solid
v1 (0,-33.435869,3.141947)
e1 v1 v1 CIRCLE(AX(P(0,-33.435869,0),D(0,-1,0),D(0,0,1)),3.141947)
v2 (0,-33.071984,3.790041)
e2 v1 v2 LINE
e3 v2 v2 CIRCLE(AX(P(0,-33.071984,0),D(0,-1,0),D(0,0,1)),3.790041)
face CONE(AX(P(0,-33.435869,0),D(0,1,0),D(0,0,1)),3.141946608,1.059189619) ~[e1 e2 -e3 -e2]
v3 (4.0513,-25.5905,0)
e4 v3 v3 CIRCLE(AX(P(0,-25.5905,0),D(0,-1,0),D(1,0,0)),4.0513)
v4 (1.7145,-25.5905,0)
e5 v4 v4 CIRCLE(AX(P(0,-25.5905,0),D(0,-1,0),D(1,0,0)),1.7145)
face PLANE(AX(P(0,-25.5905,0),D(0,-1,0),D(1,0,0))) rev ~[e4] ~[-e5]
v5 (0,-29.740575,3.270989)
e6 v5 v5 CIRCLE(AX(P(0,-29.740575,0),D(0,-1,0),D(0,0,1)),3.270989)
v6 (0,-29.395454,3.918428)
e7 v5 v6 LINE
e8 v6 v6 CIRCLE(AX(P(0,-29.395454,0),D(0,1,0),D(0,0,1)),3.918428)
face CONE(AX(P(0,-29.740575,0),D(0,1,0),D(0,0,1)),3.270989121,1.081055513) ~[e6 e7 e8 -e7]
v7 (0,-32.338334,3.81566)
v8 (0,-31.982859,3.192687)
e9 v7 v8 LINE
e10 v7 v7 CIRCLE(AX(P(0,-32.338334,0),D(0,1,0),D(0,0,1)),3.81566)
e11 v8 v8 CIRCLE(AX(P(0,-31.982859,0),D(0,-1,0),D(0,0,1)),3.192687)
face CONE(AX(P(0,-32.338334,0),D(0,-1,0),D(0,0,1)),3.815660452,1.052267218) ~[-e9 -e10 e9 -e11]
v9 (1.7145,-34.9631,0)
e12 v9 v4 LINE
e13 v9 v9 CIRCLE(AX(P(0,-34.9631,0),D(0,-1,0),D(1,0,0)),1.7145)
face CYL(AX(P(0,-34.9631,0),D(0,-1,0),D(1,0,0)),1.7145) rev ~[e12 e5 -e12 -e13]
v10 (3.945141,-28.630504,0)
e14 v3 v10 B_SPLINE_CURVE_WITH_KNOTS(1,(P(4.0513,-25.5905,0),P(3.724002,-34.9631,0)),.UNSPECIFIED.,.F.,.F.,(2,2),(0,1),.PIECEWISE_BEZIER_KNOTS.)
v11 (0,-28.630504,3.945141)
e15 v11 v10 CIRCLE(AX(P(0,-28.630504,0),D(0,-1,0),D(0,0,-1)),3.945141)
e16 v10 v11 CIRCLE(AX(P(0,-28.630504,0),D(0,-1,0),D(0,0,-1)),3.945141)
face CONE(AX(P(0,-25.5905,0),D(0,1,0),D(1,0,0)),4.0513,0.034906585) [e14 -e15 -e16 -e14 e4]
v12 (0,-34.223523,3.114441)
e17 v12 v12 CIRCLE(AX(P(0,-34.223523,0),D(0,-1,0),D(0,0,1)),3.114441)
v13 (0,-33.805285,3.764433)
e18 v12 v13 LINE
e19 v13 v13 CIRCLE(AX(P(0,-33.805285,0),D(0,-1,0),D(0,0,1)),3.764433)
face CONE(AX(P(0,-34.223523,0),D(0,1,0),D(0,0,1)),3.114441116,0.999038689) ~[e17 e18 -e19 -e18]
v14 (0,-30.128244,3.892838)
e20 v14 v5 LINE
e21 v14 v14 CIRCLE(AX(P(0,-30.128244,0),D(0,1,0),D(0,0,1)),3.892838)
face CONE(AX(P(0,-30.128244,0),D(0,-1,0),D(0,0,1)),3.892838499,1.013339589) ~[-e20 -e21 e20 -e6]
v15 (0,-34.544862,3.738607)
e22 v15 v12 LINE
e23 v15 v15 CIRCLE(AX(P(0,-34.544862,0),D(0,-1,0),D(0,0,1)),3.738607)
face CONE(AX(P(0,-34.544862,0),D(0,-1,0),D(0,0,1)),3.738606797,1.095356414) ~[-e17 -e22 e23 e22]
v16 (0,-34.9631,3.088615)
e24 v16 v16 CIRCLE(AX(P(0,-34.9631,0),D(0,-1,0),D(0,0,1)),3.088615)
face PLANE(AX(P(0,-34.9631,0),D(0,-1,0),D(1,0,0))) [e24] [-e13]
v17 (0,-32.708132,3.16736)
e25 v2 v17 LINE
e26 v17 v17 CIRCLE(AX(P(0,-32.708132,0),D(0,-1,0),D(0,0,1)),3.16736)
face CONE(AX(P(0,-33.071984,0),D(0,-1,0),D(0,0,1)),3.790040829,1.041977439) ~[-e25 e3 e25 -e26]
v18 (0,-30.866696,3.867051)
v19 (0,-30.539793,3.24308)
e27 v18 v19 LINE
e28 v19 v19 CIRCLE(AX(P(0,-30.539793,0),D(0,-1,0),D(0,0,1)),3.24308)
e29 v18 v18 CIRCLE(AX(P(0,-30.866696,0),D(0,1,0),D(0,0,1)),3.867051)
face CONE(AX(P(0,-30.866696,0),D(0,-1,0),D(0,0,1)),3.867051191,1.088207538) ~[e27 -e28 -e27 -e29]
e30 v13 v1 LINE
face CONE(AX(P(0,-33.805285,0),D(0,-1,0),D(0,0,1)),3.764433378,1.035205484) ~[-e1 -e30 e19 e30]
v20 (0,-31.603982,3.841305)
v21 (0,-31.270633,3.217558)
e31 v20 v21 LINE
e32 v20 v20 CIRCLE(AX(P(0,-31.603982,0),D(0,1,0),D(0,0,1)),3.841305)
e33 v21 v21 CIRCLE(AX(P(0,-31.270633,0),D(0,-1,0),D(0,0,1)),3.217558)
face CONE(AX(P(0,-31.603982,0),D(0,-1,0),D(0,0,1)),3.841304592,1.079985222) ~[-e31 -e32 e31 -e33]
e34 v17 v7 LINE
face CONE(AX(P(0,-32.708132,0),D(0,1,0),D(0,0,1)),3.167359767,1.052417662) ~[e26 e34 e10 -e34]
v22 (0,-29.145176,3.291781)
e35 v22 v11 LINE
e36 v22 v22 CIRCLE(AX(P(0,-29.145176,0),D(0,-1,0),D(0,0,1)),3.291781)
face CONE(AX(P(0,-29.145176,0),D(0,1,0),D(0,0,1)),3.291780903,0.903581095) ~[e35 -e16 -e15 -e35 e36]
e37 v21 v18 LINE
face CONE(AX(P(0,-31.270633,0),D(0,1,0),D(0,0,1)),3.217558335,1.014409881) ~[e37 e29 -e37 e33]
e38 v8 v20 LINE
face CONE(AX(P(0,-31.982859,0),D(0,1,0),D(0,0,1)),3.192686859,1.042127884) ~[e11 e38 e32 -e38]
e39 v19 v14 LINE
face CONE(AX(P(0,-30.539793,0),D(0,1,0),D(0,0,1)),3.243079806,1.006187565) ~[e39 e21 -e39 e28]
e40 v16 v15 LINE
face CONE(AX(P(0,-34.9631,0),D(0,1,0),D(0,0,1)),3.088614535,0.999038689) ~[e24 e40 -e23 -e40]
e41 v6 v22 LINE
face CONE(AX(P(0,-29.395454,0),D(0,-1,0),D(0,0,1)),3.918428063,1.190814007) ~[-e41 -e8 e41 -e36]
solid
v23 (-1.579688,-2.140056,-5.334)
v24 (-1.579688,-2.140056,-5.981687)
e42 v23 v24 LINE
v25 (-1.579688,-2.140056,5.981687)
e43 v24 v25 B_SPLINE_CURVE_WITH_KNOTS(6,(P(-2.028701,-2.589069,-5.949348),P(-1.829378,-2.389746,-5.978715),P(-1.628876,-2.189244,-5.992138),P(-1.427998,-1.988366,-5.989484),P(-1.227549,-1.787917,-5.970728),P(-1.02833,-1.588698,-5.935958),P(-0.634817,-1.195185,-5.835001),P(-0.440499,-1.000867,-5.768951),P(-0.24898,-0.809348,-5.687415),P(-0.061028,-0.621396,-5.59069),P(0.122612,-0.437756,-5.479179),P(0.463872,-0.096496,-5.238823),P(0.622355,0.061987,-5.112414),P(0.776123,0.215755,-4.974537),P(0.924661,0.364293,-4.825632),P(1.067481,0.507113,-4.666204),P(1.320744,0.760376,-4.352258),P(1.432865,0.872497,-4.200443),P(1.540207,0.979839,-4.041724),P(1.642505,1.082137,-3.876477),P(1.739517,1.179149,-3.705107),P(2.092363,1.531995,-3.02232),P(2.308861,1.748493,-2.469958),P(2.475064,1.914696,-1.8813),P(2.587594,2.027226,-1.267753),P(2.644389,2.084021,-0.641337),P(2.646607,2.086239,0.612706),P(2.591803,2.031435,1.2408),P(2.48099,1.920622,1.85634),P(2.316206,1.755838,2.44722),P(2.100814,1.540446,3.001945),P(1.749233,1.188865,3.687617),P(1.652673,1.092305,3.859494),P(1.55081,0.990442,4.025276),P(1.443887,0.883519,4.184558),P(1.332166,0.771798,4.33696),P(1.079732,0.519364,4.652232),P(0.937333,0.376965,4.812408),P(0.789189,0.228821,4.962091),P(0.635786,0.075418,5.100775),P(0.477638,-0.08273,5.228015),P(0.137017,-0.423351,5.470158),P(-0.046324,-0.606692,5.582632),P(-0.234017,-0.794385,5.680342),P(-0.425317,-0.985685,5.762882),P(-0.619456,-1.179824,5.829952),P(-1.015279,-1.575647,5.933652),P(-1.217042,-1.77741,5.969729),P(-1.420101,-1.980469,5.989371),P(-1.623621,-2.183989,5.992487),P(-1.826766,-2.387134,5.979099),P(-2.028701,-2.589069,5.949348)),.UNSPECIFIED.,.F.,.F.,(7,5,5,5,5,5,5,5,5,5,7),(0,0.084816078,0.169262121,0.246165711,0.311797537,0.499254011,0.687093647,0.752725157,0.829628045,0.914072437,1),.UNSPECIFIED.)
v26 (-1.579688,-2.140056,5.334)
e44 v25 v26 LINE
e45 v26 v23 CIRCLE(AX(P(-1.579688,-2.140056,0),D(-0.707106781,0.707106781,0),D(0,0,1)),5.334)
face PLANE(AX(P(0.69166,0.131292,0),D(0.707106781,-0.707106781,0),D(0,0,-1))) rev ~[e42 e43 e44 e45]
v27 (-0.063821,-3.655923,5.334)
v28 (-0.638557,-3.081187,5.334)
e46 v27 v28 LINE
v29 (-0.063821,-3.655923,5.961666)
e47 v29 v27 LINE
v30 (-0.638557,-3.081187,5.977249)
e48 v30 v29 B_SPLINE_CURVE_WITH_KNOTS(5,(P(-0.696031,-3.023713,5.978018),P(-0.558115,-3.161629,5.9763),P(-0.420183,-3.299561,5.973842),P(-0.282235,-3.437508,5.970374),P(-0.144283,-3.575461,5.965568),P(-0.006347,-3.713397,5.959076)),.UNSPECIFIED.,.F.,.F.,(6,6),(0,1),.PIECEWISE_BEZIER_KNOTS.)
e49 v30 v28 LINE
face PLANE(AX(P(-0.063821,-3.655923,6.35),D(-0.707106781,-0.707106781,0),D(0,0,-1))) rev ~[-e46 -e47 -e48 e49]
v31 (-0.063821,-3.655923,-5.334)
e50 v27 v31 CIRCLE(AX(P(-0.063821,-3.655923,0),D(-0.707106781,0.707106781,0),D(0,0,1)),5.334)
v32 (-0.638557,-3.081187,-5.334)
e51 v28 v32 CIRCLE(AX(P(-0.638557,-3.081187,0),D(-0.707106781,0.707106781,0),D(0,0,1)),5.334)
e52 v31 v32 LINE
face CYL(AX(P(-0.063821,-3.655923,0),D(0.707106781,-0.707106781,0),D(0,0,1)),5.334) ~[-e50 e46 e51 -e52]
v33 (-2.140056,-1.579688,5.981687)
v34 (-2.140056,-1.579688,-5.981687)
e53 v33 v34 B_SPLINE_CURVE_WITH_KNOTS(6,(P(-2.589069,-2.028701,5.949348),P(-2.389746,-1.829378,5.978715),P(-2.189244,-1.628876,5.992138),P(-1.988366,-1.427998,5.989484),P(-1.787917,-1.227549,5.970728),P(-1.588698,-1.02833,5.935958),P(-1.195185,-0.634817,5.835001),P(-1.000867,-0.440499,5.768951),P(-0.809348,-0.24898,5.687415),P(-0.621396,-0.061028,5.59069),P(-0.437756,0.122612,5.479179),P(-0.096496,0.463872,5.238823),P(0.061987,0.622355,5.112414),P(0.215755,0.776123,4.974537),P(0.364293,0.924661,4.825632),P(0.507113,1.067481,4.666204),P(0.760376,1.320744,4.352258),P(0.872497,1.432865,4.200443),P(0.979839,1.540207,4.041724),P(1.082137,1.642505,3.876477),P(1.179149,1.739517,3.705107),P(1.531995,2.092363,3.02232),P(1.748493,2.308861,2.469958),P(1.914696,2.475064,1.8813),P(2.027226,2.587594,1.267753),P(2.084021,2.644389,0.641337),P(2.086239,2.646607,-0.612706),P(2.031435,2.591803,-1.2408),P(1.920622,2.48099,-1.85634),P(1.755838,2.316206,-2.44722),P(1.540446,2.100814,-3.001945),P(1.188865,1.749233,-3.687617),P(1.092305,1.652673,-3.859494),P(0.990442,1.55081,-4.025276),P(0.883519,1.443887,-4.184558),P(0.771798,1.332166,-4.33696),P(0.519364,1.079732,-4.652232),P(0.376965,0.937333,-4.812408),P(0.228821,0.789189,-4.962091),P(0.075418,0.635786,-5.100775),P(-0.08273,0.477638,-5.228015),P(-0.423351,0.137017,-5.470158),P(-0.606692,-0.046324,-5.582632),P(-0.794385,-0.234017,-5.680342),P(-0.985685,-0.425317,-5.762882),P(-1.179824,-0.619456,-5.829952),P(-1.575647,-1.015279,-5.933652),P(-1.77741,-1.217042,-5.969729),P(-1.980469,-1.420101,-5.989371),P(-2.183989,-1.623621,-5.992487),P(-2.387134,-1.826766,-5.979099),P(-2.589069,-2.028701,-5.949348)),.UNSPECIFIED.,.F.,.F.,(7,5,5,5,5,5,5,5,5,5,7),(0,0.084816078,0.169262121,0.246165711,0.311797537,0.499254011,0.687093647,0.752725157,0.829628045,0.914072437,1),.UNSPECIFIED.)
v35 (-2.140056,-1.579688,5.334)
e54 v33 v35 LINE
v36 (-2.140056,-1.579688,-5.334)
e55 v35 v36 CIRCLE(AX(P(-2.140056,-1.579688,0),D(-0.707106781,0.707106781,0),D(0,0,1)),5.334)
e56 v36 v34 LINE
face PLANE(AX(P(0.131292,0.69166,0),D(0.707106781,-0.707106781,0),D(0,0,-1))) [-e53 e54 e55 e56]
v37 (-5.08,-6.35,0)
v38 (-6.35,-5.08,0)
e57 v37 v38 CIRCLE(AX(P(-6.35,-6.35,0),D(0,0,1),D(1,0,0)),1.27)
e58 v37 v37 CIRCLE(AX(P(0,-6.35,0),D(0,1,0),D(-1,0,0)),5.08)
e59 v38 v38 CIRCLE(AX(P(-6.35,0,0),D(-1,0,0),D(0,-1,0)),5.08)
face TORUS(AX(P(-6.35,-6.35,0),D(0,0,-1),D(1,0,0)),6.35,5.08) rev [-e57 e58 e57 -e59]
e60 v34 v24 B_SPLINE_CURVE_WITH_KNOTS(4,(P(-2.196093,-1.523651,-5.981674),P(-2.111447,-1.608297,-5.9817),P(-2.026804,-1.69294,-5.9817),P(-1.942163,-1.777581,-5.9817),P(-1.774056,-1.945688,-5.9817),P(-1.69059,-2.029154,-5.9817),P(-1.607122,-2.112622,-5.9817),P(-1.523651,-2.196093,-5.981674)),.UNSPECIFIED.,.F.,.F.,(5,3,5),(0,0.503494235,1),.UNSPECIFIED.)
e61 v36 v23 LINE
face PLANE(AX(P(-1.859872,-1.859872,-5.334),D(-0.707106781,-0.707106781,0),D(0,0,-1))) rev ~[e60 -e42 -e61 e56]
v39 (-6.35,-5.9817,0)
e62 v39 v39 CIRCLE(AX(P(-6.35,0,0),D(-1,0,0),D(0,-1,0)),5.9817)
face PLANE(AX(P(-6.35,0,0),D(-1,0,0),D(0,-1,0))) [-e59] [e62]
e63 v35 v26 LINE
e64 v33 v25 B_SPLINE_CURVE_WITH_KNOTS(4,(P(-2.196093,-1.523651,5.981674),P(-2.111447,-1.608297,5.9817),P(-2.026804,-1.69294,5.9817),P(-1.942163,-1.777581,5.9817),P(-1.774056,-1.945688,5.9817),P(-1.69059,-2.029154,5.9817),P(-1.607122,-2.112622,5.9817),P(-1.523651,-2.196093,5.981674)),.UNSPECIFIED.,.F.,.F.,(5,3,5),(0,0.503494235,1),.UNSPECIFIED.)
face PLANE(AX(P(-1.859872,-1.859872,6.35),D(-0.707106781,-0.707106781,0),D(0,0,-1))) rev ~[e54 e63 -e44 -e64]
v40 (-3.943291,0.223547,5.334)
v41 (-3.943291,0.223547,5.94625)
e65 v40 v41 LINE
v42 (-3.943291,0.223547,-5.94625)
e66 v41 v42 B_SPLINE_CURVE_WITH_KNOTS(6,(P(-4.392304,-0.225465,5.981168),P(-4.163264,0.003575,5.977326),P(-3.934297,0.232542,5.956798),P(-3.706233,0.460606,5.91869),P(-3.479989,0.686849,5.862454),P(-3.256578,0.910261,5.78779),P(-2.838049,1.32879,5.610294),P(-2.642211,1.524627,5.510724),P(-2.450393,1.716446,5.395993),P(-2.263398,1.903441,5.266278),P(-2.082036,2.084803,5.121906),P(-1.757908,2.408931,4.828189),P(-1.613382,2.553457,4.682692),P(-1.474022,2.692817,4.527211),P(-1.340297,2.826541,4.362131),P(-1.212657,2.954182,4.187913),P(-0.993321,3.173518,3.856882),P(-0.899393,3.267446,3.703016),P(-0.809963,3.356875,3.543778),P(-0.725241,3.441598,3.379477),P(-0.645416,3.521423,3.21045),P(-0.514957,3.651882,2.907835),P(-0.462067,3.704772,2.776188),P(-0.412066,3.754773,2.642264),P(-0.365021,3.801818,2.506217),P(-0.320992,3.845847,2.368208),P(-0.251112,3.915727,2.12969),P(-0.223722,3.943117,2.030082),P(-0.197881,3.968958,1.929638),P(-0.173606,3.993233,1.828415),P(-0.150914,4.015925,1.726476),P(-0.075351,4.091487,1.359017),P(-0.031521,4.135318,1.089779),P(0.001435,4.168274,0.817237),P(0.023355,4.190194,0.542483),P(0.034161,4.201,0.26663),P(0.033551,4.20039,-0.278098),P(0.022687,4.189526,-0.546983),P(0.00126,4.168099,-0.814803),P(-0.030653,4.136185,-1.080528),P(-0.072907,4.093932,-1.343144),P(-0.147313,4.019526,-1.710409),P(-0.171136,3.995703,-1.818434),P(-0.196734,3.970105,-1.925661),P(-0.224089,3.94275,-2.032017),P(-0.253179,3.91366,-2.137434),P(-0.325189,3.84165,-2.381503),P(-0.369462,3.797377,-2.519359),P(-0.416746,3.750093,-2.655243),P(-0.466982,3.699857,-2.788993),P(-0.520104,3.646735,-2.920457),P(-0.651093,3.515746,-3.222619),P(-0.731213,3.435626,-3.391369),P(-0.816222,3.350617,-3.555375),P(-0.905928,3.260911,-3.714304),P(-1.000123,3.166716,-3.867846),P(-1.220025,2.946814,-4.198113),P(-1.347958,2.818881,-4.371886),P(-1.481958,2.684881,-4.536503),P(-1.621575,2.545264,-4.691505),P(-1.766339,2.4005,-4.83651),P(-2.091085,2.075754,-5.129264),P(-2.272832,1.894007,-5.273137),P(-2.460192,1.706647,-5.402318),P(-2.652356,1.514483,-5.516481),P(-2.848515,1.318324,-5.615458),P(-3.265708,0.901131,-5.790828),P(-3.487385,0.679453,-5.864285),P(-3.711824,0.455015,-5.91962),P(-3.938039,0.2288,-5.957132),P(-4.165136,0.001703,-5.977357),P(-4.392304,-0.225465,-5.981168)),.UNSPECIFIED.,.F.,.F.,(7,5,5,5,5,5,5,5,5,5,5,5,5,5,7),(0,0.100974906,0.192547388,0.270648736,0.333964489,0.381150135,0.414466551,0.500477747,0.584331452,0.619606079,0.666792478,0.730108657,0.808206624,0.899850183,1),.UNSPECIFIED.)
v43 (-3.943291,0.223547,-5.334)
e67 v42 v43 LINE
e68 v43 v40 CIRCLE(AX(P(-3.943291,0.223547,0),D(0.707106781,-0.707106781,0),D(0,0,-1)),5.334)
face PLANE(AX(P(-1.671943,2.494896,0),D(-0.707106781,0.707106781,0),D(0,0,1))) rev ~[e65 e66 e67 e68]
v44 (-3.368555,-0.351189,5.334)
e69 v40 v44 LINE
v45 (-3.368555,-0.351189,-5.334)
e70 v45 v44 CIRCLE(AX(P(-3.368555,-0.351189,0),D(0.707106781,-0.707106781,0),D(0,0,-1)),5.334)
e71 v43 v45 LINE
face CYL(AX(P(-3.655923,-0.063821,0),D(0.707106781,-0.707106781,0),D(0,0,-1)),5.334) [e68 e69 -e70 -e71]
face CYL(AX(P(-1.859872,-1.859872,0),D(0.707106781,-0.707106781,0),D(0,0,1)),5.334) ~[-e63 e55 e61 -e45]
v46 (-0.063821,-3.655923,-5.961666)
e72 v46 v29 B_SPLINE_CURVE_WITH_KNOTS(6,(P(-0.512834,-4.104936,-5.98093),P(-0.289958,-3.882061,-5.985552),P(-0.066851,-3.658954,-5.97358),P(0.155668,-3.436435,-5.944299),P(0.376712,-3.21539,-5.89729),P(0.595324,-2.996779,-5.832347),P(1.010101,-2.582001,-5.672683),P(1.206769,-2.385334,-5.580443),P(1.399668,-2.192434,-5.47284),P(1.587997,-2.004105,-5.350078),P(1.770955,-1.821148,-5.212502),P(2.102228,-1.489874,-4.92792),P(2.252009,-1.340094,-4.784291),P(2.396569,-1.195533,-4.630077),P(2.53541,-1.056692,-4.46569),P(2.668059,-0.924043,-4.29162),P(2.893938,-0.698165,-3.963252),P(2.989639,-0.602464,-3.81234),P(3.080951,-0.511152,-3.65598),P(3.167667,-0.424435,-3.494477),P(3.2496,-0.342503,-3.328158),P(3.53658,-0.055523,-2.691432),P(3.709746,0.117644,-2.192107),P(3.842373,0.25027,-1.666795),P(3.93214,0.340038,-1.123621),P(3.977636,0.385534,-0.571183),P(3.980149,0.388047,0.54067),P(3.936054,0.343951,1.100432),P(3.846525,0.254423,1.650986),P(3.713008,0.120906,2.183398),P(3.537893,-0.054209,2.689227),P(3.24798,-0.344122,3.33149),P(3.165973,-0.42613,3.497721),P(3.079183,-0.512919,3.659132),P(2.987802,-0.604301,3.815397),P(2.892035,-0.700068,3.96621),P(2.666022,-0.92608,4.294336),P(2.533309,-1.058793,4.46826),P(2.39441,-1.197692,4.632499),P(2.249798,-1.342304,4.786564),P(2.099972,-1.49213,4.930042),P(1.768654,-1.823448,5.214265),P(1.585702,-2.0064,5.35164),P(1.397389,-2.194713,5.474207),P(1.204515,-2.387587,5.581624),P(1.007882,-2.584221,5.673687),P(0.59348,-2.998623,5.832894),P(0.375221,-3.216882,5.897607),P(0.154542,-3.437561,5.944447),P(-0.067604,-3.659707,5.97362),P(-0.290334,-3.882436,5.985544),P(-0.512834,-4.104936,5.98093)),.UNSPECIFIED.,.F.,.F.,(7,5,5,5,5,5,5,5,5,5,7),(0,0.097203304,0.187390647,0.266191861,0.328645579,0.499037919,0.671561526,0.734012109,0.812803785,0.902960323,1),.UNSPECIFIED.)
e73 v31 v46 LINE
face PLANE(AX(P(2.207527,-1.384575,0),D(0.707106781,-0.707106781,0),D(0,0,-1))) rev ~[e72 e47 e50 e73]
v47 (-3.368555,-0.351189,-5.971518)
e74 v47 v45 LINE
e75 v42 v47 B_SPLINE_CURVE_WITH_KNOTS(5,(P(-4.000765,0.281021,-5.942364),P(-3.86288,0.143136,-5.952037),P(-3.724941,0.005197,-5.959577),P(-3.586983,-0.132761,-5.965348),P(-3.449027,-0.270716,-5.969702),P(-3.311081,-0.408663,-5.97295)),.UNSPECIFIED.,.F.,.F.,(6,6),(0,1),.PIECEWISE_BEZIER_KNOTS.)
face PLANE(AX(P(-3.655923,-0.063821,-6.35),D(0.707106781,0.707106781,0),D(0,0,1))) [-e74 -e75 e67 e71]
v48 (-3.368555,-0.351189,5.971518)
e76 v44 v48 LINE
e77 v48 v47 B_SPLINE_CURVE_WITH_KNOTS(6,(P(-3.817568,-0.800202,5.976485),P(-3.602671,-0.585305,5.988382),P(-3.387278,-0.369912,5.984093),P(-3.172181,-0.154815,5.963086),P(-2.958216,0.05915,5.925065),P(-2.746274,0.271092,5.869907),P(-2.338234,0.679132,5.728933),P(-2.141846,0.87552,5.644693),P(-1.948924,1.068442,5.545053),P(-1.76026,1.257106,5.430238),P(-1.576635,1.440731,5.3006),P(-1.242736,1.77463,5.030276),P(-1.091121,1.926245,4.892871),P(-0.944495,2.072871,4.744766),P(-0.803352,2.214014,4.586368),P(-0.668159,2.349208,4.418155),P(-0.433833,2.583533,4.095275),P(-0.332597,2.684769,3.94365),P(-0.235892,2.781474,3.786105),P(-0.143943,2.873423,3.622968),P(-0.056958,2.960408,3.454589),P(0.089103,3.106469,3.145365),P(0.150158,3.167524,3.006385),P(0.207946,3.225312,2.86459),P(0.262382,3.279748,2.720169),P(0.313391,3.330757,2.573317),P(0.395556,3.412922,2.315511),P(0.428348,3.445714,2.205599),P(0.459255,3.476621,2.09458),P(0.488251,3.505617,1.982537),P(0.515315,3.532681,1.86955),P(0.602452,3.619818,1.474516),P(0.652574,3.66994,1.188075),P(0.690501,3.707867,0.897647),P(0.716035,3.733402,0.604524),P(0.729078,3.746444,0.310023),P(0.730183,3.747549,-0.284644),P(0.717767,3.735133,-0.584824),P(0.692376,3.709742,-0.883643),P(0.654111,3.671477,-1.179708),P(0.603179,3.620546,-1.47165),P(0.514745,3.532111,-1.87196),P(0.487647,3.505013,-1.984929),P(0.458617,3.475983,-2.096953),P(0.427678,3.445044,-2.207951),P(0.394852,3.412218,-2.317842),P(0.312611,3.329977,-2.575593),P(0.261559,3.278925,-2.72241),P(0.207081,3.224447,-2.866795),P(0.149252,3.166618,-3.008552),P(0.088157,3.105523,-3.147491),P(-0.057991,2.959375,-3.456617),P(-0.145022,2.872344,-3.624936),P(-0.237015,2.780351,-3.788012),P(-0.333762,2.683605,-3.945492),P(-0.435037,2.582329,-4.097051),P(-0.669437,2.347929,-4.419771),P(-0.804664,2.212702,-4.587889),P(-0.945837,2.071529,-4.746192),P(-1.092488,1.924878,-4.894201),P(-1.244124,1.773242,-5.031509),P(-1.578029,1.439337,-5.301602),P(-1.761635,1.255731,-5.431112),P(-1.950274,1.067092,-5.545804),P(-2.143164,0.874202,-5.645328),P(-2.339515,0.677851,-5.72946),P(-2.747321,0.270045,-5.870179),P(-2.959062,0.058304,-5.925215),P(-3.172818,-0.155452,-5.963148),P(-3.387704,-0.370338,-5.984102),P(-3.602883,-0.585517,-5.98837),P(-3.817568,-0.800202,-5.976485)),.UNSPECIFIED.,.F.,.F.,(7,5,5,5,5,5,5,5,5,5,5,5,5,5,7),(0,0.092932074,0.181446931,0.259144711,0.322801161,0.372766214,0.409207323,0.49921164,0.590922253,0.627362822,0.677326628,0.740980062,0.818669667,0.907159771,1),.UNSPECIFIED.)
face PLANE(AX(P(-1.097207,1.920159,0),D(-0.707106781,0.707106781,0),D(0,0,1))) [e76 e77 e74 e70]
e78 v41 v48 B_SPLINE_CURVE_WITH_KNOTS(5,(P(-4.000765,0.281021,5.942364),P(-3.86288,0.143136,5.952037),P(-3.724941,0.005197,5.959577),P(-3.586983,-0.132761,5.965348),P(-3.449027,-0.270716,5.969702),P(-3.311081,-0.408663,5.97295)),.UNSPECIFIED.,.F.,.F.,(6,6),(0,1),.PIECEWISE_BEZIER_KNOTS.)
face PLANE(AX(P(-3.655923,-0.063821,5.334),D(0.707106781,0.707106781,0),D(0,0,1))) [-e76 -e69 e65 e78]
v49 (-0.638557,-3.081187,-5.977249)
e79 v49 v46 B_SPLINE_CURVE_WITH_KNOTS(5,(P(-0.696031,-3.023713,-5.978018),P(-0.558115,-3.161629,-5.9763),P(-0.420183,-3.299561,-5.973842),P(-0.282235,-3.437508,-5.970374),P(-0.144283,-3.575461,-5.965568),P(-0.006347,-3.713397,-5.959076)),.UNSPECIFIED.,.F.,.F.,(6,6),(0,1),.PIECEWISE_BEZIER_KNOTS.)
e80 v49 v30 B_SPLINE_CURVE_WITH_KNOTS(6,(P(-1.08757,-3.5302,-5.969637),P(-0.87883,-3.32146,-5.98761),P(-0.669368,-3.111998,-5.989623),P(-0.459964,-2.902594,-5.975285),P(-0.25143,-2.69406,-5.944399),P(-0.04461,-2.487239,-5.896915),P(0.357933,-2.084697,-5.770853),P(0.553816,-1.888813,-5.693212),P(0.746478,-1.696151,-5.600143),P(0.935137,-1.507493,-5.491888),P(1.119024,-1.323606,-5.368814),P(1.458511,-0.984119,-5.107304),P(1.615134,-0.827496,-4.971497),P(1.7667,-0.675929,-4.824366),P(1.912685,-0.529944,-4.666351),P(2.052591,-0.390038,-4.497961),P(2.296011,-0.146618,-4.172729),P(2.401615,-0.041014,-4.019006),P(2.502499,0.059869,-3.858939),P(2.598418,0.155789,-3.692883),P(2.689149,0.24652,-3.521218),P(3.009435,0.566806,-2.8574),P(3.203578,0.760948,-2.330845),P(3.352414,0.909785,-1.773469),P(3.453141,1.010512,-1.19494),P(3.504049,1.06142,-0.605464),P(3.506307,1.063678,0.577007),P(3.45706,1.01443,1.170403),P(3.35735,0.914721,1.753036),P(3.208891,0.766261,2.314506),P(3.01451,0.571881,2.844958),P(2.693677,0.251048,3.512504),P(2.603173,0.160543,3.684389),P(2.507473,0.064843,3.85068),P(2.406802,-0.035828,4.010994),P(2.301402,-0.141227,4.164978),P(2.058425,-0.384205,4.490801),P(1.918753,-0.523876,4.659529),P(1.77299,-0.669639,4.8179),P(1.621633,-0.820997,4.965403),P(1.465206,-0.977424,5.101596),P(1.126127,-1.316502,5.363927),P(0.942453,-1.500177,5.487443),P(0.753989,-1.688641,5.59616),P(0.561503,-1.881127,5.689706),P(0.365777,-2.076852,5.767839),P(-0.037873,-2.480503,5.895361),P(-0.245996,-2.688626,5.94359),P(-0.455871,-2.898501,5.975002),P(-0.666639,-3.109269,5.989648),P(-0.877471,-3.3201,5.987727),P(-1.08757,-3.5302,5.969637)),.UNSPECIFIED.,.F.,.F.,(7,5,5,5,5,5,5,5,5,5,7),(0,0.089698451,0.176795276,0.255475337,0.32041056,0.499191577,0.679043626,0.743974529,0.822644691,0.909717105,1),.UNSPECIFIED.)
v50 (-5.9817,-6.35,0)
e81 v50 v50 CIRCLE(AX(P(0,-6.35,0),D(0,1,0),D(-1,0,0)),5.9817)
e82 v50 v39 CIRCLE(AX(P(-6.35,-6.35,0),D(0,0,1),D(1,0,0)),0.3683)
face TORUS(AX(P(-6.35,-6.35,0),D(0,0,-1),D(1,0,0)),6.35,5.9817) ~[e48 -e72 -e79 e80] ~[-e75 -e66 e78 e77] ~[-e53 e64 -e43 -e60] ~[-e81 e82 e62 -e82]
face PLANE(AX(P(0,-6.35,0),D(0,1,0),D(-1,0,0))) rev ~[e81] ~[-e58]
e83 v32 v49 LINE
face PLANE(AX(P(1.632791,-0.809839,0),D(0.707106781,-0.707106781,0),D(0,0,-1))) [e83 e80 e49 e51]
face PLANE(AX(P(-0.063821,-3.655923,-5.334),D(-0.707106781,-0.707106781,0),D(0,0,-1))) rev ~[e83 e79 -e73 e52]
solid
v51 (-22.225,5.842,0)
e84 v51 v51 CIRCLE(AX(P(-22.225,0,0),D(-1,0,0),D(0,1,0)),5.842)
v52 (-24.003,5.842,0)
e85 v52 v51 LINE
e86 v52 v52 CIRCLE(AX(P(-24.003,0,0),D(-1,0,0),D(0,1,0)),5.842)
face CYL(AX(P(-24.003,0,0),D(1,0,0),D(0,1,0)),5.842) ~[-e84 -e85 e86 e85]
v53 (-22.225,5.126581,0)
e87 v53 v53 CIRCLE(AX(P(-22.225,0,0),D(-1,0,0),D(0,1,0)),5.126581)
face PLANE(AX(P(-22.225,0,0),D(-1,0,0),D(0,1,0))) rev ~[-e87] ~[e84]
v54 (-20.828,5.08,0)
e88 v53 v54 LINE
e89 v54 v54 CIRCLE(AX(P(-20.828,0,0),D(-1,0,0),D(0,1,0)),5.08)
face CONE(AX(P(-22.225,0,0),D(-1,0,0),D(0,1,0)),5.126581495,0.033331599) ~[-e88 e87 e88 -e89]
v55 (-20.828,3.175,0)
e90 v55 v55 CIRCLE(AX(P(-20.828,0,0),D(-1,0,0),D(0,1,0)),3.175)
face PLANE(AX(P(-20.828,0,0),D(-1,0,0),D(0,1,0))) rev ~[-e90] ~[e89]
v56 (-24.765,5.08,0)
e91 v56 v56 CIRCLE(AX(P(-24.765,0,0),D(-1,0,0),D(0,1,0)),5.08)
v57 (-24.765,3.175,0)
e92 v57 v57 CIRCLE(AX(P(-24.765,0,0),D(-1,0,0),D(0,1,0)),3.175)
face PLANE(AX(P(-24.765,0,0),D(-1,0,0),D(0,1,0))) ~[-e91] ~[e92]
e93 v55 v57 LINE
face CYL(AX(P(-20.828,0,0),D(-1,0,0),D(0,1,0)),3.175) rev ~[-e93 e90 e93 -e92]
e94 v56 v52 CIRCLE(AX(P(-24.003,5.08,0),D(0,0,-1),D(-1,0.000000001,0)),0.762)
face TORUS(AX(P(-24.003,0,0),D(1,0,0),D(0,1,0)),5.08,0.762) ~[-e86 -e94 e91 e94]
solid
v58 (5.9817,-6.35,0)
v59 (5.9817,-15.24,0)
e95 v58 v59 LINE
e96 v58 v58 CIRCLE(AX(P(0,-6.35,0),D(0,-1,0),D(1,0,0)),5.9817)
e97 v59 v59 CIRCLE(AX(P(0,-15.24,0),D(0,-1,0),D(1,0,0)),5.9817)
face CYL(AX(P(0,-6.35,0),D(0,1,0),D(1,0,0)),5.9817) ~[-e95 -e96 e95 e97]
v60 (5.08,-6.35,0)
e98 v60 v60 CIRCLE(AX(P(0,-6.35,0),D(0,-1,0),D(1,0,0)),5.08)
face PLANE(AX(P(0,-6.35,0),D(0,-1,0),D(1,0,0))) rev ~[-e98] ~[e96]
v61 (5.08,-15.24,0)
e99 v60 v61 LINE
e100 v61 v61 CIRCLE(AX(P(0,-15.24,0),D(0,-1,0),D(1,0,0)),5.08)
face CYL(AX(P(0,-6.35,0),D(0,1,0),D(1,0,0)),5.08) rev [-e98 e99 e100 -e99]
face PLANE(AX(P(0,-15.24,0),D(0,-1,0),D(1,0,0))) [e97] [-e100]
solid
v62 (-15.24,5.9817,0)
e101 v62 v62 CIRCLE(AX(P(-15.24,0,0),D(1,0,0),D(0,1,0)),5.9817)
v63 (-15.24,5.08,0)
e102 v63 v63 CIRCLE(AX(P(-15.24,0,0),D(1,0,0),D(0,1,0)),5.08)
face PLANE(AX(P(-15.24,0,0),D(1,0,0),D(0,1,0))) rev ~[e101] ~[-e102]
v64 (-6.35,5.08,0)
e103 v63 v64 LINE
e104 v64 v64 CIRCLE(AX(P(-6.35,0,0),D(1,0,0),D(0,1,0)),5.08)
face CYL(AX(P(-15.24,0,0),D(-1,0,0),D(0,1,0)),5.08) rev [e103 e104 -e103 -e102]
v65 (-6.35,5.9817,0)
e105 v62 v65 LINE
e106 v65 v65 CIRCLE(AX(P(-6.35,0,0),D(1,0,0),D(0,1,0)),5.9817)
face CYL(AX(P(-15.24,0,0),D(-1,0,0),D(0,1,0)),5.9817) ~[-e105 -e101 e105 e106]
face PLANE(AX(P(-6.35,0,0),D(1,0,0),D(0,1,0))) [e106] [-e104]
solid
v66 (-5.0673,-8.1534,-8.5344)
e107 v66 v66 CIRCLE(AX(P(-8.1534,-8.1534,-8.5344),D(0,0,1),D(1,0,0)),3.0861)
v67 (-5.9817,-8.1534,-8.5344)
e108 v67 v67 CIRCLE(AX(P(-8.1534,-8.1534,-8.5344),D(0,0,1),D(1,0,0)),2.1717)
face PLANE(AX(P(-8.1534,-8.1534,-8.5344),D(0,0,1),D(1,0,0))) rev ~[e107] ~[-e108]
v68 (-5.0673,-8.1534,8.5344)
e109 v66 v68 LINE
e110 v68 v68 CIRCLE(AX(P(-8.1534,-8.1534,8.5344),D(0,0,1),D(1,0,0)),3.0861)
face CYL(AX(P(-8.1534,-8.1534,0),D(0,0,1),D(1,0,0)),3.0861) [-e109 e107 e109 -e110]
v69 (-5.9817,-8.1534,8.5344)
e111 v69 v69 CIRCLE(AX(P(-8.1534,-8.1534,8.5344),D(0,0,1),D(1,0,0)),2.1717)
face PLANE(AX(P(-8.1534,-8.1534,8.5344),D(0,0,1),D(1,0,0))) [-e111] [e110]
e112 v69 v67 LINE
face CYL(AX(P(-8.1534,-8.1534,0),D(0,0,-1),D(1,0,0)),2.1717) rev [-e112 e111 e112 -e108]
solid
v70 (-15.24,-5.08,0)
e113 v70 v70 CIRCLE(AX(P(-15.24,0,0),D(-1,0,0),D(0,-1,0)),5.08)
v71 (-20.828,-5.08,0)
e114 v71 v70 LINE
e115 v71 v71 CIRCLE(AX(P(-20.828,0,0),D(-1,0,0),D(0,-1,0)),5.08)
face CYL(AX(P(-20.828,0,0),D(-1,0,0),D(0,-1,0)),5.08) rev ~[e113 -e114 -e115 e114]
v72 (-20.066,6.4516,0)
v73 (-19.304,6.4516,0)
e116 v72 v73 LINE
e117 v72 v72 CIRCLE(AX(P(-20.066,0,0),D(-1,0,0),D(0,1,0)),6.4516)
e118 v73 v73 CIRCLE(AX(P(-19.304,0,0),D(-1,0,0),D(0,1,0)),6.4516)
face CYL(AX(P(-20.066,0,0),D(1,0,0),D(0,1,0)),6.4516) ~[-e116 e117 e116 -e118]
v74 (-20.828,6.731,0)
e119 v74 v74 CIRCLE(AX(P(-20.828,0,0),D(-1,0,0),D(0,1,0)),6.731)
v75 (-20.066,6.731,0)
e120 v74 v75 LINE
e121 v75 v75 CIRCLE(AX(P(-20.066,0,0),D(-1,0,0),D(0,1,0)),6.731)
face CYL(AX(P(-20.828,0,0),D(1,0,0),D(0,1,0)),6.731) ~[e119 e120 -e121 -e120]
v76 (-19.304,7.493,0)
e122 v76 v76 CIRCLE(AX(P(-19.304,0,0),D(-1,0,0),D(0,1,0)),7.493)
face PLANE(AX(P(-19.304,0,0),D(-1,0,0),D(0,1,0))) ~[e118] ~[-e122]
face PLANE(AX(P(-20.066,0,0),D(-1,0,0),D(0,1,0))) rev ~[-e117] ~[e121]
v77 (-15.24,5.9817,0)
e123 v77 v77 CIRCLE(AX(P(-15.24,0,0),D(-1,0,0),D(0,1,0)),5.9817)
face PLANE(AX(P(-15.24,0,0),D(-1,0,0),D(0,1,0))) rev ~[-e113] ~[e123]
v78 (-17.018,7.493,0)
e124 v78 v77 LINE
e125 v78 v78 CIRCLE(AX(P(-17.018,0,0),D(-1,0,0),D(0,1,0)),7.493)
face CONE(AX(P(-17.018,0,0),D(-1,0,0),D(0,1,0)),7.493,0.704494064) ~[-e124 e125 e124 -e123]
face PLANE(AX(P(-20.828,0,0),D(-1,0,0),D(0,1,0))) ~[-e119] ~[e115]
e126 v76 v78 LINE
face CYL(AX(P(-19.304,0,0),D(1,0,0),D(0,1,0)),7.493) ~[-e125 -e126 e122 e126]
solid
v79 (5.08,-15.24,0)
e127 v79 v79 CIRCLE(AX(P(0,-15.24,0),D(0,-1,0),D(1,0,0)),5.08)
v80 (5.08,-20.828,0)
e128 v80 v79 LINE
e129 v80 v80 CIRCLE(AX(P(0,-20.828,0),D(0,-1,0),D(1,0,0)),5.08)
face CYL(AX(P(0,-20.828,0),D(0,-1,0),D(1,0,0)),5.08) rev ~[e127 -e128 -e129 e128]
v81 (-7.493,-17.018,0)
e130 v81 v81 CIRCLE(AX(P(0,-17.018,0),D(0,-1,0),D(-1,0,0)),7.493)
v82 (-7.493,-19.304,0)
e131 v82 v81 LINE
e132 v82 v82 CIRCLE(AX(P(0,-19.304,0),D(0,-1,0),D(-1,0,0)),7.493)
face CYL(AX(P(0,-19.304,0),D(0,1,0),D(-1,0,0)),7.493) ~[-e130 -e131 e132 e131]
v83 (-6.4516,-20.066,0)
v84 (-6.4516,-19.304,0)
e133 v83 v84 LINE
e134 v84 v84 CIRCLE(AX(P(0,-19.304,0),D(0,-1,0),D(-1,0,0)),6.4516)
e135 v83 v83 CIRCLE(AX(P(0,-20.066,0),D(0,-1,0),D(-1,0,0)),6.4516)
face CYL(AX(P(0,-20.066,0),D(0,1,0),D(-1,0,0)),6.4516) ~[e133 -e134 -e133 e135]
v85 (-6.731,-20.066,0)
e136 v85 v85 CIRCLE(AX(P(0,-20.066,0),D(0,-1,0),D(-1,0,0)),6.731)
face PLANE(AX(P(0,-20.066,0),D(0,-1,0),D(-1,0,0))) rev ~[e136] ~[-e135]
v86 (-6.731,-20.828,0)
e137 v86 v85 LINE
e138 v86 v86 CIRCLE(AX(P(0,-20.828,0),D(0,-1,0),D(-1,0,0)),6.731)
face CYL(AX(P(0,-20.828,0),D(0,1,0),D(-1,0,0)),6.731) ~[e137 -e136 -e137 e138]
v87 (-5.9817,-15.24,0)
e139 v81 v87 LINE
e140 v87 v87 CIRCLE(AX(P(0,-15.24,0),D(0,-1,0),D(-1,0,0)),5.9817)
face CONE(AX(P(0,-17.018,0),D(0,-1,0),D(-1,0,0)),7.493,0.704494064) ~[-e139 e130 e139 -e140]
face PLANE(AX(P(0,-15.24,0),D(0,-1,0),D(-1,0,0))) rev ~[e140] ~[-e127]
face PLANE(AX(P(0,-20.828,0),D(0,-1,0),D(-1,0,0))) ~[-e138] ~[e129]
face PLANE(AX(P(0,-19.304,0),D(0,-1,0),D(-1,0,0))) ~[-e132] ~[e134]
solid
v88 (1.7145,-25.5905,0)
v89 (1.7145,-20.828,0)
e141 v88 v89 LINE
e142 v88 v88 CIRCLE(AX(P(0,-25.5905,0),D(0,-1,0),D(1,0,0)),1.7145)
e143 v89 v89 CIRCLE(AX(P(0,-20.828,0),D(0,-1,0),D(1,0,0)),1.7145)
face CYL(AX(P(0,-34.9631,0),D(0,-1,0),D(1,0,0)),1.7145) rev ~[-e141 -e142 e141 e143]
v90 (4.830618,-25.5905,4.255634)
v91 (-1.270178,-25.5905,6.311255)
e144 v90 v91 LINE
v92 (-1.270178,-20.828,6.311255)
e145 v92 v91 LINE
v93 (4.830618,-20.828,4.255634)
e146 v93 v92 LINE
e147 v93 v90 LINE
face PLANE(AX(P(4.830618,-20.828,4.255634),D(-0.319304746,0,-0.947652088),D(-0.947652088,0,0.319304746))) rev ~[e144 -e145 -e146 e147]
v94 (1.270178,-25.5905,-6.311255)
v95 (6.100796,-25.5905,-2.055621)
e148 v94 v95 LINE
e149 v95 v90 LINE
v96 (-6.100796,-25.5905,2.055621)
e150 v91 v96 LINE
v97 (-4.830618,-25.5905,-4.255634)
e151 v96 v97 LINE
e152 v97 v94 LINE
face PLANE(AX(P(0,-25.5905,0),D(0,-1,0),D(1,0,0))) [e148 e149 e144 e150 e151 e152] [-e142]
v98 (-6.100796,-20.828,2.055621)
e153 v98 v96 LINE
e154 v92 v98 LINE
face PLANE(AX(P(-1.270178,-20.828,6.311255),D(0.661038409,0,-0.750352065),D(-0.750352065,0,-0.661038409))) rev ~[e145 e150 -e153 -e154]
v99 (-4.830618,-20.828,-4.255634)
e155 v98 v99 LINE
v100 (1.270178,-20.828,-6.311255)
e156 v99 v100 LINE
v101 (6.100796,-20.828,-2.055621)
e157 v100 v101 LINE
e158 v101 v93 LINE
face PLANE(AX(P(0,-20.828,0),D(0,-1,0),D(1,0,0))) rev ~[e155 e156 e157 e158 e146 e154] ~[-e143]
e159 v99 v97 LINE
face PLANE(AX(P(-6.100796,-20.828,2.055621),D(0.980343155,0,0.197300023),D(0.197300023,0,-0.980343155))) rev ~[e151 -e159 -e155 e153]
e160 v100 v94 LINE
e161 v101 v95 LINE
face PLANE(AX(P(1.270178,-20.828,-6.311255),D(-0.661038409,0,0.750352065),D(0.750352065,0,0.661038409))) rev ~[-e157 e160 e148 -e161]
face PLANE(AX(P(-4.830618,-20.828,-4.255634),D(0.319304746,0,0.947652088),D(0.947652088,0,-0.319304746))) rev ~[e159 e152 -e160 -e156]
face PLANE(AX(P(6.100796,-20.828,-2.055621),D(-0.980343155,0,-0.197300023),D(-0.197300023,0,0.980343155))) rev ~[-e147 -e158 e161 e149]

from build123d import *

# Parameters (mm, degrees)
SKETCH11_R                 = 5.9817
SKETCH11_R_2               = 5.08
STRUCTURAL_MEMBER1_DEPTH   = 8.89
SKETCH11_ON_SEGMENT_2_R    = 5.9817
SKETCH11_ON_SEGMENT_2_R_2  = 5.08
STRUCTURAL_MEMBER1_2_ANGLE = 90
SKETCH11_ON_SEGMENT_3_R    = 5.9817
SKETCH11_ON_SEGMENT_3_R_2  = 5.08
STRUCTURAL_MEMBER1_3_DEPTH = 8.89
SKETCH24_R                 = 5.08
EXTRUDE4_DEPTH             = 11.7602
SKETCH25_R                 = 5.08
EXTRUDE5_DEPTH             = 9.2202
SKETCH26_R                 = 3.0861
SKETCH26_R_2               = 2.1717
EXTRUDE6_DEPTH             = 8.5344
EXTRUDE1_DEPTH             = 0.39624
EXTRUDE7_DEPTH             = 0.4064
EXTRUDE8_DEPTH             = 0.8128
EXTRUDE9_DEPTH             = 4.7625
SKETCH32_R                 = 4.0513
EXTRUDE10_DEPTH            = 9.3726
EXTRUDE10_TAPER            = 2
SKETCH33_R                 = 1.7145
EXTRUDE11_DEPTH            = 16.9926


with BuildPart() as part:
    # Sketch11 → Structural Member1 (new body)
    with BuildSketch(Plane.YZ.offset(-15.24)):
        Circle(SKETCH11_R)
        Circle(SKETCH11_R_2, mode=Mode.SUBTRACT)
    extrude(amount=STRUCTURAL_MEMBER1_DEPTH)


with BuildPart() as body_2:
    # Sketch11 on segment 2 (carried to the start of arc 2) → Structural Member1 2 (revolve)
    with BuildSketch(Plane(origin=(0, -6.35, 0), x_dir=(-1, 0, 0), z_dir=(0, 1, 0))):
        Circle(SKETCH11_ON_SEGMENT_2_R)
        Circle(SKETCH11_ON_SEGMENT_2_R_2, mode=Mode.SUBTRACT)
    revolve(axis=Axis((-6.35, -6.35, 0), (0, 0, 1)), revolution_arc=STRUCTURAL_MEMBER1_2_ANGLE)

    # Sketch16 → Extrude1 (cut, symmetric)
    with BuildSketch(Plane(origin=(0, 0, 0), x_dir=(0, 0, -1), z_dir=(0.707106781186548, -0.707106781186547, -3.491483361109382e-15))):
        with BuildLine():
            Line((-6.35, -2.630256121), (-5.334, -2.630256121))
            ThreePointArc((-5.334, -2.630256121), (0, 2.703743879), (5.334, -2.630256121))
            Line((5.334, -2.630256121), (6.35, -2.630256121))
            ThreePointArc((6.35, -2.630256121), (0, 3.719743879), (-6.35, -2.630256121))
        make_face()
    extrude(amount=EXTRUDE1_DEPTH, both=True, mode=Mode.SUBTRACT)

    # Sketch27 → Extrude7 (cut, symmetric)
    with BuildSketch(Plane(origin=(-1.796051224, 1.796051224, 0), x_dir=(0, 0, -1), z_dir=(0.707106781186548, -0.7071067811865471, -3.4914833611093825e-15))):
        with BuildLine():
            Line((-5.334, -2.630256121), (-6.35, -2.630256121))
            ThreePointArc((-6.35, -2.630256121), (0, 3.719743879), (6.35, -2.630256121))
            Line((6.35, -2.630256121), (5.334, -2.630256121))
            ThreePointArc((5.334, -2.630256121), (0, 2.703743879), (-5.334, -2.630256121))
        make_face()
    extrude(amount=EXTRUDE7_DEPTH, both=True, mode=Mode.SUBTRACT)

    # Sketch28 → Extrude8 (cut)
    with BuildSketch(Plane(origin=(1.796051224, -1.796051224, 0), x_dir=(0, 0, -1), z_dir=(0.707106781186548, -0.7071067811865471, -3.4914833611093825e-15))):
        with BuildLine():
            Line((-6.35, -2.630256121), (-5.334, -2.630256121))
            ThreePointArc((-5.334, -2.630256121), (0, 2.703743879), (5.334, -2.630256121))
            Line((5.334, -2.630256121), (6.35, -2.630256121))
            ThreePointArc((6.35, -2.630256121), (0, 3.719743879), (-6.35, -2.630256121))
        make_face()
    extrude(amount=-EXTRUDE8_DEPTH, mode=Mode.SUBTRACT)


with BuildPart() as body_3:
    # Sketch11 on segment 3 (carried to segment 3) → Structural Member1 3 (new body)
    with BuildSketch(Plane.XZ.offset(6.35)):
        Circle(SKETCH11_ON_SEGMENT_3_R)
        Circle(SKETCH11_ON_SEGMENT_3_R_2, mode=Mode.SUBTRACT)
    extrude(amount=STRUCTURAL_MEMBER1_3_DEPTH)


with BuildPart() as body_4:
    # Sketch21 → Revolve1 (revolve)
    with BuildSketch(Plane.XY):
        Polygon((-15.24, 0), (-20.828, 0), (-20.828, 6.731), (-20.066, 6.731), (-20.066, 6.4516), (-19.304, 6.4516), (-19.304, 7.493), (-17.018, 7.493), (-15.24, 5.9817), align=None)
    revolve(axis=Axis((-15.24, 0, 0), (-1, 0, 0)))

    # Sketch24 → Extrude4 (cut)
    with BuildSketch(Plane.ZY.offset(20.828)):
        with Locations(Location((0, 0, 0), (0, 0, 270))):
            Circle(SKETCH24_R)
    extrude(amount=-EXTRUDE4_DEPTH, mode=Mode.SUBTRACT)


with BuildPart() as body_5:
    # Sketch23 → Revolve2 (revolve)
    with BuildSketch(Plane.XY):
        Polygon((0, -15.24), (0, -20.828), (-6.731, -20.828), (-6.731, -20.066), (-6.4516, -20.066), (-6.4516, -19.304), (-7.493, -19.304), (-7.493, -17.018), (-5.9817, -15.24), align=None)
    revolve(axis=Axis((0, -15.24, 0), (0, -1, 0)))

    # Sketch25 → Extrude5 (cut)
    with BuildSketch(Plane.XZ.offset(20.828)):
        Circle(SKETCH25_R)
    extrude(amount=-EXTRUDE5_DEPTH, mode=Mode.SUBTRACT)


with BuildPart() as body_6:
    # Sketch26 → Extrude6 (new, symmetric)
    with BuildSketch(Plane.XY):
        with Locations((-8.1534, -8.1534)):
            Circle(SKETCH26_R)
        with Locations((-8.1534, -8.1534)):
            Circle(SKETCH26_R_2, mode=Mode.SUBTRACT)
    extrude(amount=EXTRUDE6_DEPTH, both=True)


with BuildPart() as body_7:
    # Sketch30 → Revolve3 (revolve)
    with BuildSketch(Plane.XY):
        with BuildLine():
            Line((-24.765, 3.175), (-24.765, 5.08))
            ThreePointArc((-24.765, 5.08), (-24.541815367, 5.618815367), (-24.003, 5.842))
            Line((-24.003, 5.842), (-22.225, 5.842))
            Line((-22.225, 5.842), (-22.225, 5.126581495))
            Line((-22.225, 5.126581495), (-20.828, 5.08))
            Line((-20.828, 5.08), (-20.828, 3.175))
            Line((-20.828, 3.175), (-24.765, 3.175))
        make_face()
    revolve(axis=Axis((-20.828, 0, 0), (-1, 0, 0)))


with BuildPart() as body_8:
    # Sketch31 → Extrude9 (new body)
    with BuildSketch(Plane.XZ.offset(20.828)):
        Polygon((1.270178463, -6.311255036), (6.100796422, -2.055620701), (4.830617959, 4.255634335), (-1.270178463, 6.311255036), (-6.100796422, 2.055620701), (-4.830617959, -4.255634335), align=None)
    extrude(amount=EXTRUDE9_DEPTH)


with BuildPart() as body_9:
    # Sketch32 → Extrude10 (new body)
    with BuildSketch(Plane.XZ.offset(25.5905)):
        Circle(SKETCH32_R)
    extrude(amount=EXTRUDE10_DEPTH, taper=EXTRUDE10_TAPER)


with BuildPart() as extrude11_tool:
    # Sketch33 → Extrude11 (new body)
    with BuildSketch(Plane.XZ.offset(34.9631)):
        Circle(SKETCH33_R)
    extrude(amount=-EXTRUDE11_DEPTH)


with BuildPart() as body_8_1:
    add(body_8.part)

    # Extrude11: cut by extrude11_tool
    add(extrude11_tool.part, mode=Mode.SUBTRACT)


with BuildPart() as body_9_1:
    add(body_9.part)

    # Extrude11: cut by extrude11_tool
    add(extrude11_tool.part, mode=Mode.SUBTRACT)

    # Sketch34 → Cut-Revolve1 (revolve, cut)
    with BuildSketch(Plane.XY, mode=Mode.PRIVATE) as cut_revolve1_sk:
        Polygon((-3.088614535, -34.9631), (-3.738606797, -34.544861765), (-3.114441116, -34.223523485), (-3.764433378, -33.80528525), (-3.141946608, -33.435869265), (-3.790040829, -33.071983781), (-3.167359767, -32.708131608), (-3.815660452, -32.338333784), (-3.192686859, -31.982858583), (-3.841304592, -31.603981684), (-3.217558335, -31.270632682), (-3.867051191, -30.866695556), (-3.243079806, -30.539793369), (-3.892838499, -30.128243689), (-3.270989121, -29.740575178), (-3.918428063, -29.39545444), (-3.291780903, -29.145176439), (-4.333993902, -28.324192464), (-4.333993902, -34.9631), align=None)
    revolve(cut_revolve1_sk.sketch.rotate(Axis((0, -25.886343082, 0), (0, -1, 0)), 270), axis=Axis((0, -25.886343082, 0), (0, -1, 0)), mode=Mode.SUBTRACT)


solid = Compound([part.part, body_2.part, body_3.part, body_4.part, body_5.part, body_6.part, body_7.part, body_8_1.part, body_9_1.part])
